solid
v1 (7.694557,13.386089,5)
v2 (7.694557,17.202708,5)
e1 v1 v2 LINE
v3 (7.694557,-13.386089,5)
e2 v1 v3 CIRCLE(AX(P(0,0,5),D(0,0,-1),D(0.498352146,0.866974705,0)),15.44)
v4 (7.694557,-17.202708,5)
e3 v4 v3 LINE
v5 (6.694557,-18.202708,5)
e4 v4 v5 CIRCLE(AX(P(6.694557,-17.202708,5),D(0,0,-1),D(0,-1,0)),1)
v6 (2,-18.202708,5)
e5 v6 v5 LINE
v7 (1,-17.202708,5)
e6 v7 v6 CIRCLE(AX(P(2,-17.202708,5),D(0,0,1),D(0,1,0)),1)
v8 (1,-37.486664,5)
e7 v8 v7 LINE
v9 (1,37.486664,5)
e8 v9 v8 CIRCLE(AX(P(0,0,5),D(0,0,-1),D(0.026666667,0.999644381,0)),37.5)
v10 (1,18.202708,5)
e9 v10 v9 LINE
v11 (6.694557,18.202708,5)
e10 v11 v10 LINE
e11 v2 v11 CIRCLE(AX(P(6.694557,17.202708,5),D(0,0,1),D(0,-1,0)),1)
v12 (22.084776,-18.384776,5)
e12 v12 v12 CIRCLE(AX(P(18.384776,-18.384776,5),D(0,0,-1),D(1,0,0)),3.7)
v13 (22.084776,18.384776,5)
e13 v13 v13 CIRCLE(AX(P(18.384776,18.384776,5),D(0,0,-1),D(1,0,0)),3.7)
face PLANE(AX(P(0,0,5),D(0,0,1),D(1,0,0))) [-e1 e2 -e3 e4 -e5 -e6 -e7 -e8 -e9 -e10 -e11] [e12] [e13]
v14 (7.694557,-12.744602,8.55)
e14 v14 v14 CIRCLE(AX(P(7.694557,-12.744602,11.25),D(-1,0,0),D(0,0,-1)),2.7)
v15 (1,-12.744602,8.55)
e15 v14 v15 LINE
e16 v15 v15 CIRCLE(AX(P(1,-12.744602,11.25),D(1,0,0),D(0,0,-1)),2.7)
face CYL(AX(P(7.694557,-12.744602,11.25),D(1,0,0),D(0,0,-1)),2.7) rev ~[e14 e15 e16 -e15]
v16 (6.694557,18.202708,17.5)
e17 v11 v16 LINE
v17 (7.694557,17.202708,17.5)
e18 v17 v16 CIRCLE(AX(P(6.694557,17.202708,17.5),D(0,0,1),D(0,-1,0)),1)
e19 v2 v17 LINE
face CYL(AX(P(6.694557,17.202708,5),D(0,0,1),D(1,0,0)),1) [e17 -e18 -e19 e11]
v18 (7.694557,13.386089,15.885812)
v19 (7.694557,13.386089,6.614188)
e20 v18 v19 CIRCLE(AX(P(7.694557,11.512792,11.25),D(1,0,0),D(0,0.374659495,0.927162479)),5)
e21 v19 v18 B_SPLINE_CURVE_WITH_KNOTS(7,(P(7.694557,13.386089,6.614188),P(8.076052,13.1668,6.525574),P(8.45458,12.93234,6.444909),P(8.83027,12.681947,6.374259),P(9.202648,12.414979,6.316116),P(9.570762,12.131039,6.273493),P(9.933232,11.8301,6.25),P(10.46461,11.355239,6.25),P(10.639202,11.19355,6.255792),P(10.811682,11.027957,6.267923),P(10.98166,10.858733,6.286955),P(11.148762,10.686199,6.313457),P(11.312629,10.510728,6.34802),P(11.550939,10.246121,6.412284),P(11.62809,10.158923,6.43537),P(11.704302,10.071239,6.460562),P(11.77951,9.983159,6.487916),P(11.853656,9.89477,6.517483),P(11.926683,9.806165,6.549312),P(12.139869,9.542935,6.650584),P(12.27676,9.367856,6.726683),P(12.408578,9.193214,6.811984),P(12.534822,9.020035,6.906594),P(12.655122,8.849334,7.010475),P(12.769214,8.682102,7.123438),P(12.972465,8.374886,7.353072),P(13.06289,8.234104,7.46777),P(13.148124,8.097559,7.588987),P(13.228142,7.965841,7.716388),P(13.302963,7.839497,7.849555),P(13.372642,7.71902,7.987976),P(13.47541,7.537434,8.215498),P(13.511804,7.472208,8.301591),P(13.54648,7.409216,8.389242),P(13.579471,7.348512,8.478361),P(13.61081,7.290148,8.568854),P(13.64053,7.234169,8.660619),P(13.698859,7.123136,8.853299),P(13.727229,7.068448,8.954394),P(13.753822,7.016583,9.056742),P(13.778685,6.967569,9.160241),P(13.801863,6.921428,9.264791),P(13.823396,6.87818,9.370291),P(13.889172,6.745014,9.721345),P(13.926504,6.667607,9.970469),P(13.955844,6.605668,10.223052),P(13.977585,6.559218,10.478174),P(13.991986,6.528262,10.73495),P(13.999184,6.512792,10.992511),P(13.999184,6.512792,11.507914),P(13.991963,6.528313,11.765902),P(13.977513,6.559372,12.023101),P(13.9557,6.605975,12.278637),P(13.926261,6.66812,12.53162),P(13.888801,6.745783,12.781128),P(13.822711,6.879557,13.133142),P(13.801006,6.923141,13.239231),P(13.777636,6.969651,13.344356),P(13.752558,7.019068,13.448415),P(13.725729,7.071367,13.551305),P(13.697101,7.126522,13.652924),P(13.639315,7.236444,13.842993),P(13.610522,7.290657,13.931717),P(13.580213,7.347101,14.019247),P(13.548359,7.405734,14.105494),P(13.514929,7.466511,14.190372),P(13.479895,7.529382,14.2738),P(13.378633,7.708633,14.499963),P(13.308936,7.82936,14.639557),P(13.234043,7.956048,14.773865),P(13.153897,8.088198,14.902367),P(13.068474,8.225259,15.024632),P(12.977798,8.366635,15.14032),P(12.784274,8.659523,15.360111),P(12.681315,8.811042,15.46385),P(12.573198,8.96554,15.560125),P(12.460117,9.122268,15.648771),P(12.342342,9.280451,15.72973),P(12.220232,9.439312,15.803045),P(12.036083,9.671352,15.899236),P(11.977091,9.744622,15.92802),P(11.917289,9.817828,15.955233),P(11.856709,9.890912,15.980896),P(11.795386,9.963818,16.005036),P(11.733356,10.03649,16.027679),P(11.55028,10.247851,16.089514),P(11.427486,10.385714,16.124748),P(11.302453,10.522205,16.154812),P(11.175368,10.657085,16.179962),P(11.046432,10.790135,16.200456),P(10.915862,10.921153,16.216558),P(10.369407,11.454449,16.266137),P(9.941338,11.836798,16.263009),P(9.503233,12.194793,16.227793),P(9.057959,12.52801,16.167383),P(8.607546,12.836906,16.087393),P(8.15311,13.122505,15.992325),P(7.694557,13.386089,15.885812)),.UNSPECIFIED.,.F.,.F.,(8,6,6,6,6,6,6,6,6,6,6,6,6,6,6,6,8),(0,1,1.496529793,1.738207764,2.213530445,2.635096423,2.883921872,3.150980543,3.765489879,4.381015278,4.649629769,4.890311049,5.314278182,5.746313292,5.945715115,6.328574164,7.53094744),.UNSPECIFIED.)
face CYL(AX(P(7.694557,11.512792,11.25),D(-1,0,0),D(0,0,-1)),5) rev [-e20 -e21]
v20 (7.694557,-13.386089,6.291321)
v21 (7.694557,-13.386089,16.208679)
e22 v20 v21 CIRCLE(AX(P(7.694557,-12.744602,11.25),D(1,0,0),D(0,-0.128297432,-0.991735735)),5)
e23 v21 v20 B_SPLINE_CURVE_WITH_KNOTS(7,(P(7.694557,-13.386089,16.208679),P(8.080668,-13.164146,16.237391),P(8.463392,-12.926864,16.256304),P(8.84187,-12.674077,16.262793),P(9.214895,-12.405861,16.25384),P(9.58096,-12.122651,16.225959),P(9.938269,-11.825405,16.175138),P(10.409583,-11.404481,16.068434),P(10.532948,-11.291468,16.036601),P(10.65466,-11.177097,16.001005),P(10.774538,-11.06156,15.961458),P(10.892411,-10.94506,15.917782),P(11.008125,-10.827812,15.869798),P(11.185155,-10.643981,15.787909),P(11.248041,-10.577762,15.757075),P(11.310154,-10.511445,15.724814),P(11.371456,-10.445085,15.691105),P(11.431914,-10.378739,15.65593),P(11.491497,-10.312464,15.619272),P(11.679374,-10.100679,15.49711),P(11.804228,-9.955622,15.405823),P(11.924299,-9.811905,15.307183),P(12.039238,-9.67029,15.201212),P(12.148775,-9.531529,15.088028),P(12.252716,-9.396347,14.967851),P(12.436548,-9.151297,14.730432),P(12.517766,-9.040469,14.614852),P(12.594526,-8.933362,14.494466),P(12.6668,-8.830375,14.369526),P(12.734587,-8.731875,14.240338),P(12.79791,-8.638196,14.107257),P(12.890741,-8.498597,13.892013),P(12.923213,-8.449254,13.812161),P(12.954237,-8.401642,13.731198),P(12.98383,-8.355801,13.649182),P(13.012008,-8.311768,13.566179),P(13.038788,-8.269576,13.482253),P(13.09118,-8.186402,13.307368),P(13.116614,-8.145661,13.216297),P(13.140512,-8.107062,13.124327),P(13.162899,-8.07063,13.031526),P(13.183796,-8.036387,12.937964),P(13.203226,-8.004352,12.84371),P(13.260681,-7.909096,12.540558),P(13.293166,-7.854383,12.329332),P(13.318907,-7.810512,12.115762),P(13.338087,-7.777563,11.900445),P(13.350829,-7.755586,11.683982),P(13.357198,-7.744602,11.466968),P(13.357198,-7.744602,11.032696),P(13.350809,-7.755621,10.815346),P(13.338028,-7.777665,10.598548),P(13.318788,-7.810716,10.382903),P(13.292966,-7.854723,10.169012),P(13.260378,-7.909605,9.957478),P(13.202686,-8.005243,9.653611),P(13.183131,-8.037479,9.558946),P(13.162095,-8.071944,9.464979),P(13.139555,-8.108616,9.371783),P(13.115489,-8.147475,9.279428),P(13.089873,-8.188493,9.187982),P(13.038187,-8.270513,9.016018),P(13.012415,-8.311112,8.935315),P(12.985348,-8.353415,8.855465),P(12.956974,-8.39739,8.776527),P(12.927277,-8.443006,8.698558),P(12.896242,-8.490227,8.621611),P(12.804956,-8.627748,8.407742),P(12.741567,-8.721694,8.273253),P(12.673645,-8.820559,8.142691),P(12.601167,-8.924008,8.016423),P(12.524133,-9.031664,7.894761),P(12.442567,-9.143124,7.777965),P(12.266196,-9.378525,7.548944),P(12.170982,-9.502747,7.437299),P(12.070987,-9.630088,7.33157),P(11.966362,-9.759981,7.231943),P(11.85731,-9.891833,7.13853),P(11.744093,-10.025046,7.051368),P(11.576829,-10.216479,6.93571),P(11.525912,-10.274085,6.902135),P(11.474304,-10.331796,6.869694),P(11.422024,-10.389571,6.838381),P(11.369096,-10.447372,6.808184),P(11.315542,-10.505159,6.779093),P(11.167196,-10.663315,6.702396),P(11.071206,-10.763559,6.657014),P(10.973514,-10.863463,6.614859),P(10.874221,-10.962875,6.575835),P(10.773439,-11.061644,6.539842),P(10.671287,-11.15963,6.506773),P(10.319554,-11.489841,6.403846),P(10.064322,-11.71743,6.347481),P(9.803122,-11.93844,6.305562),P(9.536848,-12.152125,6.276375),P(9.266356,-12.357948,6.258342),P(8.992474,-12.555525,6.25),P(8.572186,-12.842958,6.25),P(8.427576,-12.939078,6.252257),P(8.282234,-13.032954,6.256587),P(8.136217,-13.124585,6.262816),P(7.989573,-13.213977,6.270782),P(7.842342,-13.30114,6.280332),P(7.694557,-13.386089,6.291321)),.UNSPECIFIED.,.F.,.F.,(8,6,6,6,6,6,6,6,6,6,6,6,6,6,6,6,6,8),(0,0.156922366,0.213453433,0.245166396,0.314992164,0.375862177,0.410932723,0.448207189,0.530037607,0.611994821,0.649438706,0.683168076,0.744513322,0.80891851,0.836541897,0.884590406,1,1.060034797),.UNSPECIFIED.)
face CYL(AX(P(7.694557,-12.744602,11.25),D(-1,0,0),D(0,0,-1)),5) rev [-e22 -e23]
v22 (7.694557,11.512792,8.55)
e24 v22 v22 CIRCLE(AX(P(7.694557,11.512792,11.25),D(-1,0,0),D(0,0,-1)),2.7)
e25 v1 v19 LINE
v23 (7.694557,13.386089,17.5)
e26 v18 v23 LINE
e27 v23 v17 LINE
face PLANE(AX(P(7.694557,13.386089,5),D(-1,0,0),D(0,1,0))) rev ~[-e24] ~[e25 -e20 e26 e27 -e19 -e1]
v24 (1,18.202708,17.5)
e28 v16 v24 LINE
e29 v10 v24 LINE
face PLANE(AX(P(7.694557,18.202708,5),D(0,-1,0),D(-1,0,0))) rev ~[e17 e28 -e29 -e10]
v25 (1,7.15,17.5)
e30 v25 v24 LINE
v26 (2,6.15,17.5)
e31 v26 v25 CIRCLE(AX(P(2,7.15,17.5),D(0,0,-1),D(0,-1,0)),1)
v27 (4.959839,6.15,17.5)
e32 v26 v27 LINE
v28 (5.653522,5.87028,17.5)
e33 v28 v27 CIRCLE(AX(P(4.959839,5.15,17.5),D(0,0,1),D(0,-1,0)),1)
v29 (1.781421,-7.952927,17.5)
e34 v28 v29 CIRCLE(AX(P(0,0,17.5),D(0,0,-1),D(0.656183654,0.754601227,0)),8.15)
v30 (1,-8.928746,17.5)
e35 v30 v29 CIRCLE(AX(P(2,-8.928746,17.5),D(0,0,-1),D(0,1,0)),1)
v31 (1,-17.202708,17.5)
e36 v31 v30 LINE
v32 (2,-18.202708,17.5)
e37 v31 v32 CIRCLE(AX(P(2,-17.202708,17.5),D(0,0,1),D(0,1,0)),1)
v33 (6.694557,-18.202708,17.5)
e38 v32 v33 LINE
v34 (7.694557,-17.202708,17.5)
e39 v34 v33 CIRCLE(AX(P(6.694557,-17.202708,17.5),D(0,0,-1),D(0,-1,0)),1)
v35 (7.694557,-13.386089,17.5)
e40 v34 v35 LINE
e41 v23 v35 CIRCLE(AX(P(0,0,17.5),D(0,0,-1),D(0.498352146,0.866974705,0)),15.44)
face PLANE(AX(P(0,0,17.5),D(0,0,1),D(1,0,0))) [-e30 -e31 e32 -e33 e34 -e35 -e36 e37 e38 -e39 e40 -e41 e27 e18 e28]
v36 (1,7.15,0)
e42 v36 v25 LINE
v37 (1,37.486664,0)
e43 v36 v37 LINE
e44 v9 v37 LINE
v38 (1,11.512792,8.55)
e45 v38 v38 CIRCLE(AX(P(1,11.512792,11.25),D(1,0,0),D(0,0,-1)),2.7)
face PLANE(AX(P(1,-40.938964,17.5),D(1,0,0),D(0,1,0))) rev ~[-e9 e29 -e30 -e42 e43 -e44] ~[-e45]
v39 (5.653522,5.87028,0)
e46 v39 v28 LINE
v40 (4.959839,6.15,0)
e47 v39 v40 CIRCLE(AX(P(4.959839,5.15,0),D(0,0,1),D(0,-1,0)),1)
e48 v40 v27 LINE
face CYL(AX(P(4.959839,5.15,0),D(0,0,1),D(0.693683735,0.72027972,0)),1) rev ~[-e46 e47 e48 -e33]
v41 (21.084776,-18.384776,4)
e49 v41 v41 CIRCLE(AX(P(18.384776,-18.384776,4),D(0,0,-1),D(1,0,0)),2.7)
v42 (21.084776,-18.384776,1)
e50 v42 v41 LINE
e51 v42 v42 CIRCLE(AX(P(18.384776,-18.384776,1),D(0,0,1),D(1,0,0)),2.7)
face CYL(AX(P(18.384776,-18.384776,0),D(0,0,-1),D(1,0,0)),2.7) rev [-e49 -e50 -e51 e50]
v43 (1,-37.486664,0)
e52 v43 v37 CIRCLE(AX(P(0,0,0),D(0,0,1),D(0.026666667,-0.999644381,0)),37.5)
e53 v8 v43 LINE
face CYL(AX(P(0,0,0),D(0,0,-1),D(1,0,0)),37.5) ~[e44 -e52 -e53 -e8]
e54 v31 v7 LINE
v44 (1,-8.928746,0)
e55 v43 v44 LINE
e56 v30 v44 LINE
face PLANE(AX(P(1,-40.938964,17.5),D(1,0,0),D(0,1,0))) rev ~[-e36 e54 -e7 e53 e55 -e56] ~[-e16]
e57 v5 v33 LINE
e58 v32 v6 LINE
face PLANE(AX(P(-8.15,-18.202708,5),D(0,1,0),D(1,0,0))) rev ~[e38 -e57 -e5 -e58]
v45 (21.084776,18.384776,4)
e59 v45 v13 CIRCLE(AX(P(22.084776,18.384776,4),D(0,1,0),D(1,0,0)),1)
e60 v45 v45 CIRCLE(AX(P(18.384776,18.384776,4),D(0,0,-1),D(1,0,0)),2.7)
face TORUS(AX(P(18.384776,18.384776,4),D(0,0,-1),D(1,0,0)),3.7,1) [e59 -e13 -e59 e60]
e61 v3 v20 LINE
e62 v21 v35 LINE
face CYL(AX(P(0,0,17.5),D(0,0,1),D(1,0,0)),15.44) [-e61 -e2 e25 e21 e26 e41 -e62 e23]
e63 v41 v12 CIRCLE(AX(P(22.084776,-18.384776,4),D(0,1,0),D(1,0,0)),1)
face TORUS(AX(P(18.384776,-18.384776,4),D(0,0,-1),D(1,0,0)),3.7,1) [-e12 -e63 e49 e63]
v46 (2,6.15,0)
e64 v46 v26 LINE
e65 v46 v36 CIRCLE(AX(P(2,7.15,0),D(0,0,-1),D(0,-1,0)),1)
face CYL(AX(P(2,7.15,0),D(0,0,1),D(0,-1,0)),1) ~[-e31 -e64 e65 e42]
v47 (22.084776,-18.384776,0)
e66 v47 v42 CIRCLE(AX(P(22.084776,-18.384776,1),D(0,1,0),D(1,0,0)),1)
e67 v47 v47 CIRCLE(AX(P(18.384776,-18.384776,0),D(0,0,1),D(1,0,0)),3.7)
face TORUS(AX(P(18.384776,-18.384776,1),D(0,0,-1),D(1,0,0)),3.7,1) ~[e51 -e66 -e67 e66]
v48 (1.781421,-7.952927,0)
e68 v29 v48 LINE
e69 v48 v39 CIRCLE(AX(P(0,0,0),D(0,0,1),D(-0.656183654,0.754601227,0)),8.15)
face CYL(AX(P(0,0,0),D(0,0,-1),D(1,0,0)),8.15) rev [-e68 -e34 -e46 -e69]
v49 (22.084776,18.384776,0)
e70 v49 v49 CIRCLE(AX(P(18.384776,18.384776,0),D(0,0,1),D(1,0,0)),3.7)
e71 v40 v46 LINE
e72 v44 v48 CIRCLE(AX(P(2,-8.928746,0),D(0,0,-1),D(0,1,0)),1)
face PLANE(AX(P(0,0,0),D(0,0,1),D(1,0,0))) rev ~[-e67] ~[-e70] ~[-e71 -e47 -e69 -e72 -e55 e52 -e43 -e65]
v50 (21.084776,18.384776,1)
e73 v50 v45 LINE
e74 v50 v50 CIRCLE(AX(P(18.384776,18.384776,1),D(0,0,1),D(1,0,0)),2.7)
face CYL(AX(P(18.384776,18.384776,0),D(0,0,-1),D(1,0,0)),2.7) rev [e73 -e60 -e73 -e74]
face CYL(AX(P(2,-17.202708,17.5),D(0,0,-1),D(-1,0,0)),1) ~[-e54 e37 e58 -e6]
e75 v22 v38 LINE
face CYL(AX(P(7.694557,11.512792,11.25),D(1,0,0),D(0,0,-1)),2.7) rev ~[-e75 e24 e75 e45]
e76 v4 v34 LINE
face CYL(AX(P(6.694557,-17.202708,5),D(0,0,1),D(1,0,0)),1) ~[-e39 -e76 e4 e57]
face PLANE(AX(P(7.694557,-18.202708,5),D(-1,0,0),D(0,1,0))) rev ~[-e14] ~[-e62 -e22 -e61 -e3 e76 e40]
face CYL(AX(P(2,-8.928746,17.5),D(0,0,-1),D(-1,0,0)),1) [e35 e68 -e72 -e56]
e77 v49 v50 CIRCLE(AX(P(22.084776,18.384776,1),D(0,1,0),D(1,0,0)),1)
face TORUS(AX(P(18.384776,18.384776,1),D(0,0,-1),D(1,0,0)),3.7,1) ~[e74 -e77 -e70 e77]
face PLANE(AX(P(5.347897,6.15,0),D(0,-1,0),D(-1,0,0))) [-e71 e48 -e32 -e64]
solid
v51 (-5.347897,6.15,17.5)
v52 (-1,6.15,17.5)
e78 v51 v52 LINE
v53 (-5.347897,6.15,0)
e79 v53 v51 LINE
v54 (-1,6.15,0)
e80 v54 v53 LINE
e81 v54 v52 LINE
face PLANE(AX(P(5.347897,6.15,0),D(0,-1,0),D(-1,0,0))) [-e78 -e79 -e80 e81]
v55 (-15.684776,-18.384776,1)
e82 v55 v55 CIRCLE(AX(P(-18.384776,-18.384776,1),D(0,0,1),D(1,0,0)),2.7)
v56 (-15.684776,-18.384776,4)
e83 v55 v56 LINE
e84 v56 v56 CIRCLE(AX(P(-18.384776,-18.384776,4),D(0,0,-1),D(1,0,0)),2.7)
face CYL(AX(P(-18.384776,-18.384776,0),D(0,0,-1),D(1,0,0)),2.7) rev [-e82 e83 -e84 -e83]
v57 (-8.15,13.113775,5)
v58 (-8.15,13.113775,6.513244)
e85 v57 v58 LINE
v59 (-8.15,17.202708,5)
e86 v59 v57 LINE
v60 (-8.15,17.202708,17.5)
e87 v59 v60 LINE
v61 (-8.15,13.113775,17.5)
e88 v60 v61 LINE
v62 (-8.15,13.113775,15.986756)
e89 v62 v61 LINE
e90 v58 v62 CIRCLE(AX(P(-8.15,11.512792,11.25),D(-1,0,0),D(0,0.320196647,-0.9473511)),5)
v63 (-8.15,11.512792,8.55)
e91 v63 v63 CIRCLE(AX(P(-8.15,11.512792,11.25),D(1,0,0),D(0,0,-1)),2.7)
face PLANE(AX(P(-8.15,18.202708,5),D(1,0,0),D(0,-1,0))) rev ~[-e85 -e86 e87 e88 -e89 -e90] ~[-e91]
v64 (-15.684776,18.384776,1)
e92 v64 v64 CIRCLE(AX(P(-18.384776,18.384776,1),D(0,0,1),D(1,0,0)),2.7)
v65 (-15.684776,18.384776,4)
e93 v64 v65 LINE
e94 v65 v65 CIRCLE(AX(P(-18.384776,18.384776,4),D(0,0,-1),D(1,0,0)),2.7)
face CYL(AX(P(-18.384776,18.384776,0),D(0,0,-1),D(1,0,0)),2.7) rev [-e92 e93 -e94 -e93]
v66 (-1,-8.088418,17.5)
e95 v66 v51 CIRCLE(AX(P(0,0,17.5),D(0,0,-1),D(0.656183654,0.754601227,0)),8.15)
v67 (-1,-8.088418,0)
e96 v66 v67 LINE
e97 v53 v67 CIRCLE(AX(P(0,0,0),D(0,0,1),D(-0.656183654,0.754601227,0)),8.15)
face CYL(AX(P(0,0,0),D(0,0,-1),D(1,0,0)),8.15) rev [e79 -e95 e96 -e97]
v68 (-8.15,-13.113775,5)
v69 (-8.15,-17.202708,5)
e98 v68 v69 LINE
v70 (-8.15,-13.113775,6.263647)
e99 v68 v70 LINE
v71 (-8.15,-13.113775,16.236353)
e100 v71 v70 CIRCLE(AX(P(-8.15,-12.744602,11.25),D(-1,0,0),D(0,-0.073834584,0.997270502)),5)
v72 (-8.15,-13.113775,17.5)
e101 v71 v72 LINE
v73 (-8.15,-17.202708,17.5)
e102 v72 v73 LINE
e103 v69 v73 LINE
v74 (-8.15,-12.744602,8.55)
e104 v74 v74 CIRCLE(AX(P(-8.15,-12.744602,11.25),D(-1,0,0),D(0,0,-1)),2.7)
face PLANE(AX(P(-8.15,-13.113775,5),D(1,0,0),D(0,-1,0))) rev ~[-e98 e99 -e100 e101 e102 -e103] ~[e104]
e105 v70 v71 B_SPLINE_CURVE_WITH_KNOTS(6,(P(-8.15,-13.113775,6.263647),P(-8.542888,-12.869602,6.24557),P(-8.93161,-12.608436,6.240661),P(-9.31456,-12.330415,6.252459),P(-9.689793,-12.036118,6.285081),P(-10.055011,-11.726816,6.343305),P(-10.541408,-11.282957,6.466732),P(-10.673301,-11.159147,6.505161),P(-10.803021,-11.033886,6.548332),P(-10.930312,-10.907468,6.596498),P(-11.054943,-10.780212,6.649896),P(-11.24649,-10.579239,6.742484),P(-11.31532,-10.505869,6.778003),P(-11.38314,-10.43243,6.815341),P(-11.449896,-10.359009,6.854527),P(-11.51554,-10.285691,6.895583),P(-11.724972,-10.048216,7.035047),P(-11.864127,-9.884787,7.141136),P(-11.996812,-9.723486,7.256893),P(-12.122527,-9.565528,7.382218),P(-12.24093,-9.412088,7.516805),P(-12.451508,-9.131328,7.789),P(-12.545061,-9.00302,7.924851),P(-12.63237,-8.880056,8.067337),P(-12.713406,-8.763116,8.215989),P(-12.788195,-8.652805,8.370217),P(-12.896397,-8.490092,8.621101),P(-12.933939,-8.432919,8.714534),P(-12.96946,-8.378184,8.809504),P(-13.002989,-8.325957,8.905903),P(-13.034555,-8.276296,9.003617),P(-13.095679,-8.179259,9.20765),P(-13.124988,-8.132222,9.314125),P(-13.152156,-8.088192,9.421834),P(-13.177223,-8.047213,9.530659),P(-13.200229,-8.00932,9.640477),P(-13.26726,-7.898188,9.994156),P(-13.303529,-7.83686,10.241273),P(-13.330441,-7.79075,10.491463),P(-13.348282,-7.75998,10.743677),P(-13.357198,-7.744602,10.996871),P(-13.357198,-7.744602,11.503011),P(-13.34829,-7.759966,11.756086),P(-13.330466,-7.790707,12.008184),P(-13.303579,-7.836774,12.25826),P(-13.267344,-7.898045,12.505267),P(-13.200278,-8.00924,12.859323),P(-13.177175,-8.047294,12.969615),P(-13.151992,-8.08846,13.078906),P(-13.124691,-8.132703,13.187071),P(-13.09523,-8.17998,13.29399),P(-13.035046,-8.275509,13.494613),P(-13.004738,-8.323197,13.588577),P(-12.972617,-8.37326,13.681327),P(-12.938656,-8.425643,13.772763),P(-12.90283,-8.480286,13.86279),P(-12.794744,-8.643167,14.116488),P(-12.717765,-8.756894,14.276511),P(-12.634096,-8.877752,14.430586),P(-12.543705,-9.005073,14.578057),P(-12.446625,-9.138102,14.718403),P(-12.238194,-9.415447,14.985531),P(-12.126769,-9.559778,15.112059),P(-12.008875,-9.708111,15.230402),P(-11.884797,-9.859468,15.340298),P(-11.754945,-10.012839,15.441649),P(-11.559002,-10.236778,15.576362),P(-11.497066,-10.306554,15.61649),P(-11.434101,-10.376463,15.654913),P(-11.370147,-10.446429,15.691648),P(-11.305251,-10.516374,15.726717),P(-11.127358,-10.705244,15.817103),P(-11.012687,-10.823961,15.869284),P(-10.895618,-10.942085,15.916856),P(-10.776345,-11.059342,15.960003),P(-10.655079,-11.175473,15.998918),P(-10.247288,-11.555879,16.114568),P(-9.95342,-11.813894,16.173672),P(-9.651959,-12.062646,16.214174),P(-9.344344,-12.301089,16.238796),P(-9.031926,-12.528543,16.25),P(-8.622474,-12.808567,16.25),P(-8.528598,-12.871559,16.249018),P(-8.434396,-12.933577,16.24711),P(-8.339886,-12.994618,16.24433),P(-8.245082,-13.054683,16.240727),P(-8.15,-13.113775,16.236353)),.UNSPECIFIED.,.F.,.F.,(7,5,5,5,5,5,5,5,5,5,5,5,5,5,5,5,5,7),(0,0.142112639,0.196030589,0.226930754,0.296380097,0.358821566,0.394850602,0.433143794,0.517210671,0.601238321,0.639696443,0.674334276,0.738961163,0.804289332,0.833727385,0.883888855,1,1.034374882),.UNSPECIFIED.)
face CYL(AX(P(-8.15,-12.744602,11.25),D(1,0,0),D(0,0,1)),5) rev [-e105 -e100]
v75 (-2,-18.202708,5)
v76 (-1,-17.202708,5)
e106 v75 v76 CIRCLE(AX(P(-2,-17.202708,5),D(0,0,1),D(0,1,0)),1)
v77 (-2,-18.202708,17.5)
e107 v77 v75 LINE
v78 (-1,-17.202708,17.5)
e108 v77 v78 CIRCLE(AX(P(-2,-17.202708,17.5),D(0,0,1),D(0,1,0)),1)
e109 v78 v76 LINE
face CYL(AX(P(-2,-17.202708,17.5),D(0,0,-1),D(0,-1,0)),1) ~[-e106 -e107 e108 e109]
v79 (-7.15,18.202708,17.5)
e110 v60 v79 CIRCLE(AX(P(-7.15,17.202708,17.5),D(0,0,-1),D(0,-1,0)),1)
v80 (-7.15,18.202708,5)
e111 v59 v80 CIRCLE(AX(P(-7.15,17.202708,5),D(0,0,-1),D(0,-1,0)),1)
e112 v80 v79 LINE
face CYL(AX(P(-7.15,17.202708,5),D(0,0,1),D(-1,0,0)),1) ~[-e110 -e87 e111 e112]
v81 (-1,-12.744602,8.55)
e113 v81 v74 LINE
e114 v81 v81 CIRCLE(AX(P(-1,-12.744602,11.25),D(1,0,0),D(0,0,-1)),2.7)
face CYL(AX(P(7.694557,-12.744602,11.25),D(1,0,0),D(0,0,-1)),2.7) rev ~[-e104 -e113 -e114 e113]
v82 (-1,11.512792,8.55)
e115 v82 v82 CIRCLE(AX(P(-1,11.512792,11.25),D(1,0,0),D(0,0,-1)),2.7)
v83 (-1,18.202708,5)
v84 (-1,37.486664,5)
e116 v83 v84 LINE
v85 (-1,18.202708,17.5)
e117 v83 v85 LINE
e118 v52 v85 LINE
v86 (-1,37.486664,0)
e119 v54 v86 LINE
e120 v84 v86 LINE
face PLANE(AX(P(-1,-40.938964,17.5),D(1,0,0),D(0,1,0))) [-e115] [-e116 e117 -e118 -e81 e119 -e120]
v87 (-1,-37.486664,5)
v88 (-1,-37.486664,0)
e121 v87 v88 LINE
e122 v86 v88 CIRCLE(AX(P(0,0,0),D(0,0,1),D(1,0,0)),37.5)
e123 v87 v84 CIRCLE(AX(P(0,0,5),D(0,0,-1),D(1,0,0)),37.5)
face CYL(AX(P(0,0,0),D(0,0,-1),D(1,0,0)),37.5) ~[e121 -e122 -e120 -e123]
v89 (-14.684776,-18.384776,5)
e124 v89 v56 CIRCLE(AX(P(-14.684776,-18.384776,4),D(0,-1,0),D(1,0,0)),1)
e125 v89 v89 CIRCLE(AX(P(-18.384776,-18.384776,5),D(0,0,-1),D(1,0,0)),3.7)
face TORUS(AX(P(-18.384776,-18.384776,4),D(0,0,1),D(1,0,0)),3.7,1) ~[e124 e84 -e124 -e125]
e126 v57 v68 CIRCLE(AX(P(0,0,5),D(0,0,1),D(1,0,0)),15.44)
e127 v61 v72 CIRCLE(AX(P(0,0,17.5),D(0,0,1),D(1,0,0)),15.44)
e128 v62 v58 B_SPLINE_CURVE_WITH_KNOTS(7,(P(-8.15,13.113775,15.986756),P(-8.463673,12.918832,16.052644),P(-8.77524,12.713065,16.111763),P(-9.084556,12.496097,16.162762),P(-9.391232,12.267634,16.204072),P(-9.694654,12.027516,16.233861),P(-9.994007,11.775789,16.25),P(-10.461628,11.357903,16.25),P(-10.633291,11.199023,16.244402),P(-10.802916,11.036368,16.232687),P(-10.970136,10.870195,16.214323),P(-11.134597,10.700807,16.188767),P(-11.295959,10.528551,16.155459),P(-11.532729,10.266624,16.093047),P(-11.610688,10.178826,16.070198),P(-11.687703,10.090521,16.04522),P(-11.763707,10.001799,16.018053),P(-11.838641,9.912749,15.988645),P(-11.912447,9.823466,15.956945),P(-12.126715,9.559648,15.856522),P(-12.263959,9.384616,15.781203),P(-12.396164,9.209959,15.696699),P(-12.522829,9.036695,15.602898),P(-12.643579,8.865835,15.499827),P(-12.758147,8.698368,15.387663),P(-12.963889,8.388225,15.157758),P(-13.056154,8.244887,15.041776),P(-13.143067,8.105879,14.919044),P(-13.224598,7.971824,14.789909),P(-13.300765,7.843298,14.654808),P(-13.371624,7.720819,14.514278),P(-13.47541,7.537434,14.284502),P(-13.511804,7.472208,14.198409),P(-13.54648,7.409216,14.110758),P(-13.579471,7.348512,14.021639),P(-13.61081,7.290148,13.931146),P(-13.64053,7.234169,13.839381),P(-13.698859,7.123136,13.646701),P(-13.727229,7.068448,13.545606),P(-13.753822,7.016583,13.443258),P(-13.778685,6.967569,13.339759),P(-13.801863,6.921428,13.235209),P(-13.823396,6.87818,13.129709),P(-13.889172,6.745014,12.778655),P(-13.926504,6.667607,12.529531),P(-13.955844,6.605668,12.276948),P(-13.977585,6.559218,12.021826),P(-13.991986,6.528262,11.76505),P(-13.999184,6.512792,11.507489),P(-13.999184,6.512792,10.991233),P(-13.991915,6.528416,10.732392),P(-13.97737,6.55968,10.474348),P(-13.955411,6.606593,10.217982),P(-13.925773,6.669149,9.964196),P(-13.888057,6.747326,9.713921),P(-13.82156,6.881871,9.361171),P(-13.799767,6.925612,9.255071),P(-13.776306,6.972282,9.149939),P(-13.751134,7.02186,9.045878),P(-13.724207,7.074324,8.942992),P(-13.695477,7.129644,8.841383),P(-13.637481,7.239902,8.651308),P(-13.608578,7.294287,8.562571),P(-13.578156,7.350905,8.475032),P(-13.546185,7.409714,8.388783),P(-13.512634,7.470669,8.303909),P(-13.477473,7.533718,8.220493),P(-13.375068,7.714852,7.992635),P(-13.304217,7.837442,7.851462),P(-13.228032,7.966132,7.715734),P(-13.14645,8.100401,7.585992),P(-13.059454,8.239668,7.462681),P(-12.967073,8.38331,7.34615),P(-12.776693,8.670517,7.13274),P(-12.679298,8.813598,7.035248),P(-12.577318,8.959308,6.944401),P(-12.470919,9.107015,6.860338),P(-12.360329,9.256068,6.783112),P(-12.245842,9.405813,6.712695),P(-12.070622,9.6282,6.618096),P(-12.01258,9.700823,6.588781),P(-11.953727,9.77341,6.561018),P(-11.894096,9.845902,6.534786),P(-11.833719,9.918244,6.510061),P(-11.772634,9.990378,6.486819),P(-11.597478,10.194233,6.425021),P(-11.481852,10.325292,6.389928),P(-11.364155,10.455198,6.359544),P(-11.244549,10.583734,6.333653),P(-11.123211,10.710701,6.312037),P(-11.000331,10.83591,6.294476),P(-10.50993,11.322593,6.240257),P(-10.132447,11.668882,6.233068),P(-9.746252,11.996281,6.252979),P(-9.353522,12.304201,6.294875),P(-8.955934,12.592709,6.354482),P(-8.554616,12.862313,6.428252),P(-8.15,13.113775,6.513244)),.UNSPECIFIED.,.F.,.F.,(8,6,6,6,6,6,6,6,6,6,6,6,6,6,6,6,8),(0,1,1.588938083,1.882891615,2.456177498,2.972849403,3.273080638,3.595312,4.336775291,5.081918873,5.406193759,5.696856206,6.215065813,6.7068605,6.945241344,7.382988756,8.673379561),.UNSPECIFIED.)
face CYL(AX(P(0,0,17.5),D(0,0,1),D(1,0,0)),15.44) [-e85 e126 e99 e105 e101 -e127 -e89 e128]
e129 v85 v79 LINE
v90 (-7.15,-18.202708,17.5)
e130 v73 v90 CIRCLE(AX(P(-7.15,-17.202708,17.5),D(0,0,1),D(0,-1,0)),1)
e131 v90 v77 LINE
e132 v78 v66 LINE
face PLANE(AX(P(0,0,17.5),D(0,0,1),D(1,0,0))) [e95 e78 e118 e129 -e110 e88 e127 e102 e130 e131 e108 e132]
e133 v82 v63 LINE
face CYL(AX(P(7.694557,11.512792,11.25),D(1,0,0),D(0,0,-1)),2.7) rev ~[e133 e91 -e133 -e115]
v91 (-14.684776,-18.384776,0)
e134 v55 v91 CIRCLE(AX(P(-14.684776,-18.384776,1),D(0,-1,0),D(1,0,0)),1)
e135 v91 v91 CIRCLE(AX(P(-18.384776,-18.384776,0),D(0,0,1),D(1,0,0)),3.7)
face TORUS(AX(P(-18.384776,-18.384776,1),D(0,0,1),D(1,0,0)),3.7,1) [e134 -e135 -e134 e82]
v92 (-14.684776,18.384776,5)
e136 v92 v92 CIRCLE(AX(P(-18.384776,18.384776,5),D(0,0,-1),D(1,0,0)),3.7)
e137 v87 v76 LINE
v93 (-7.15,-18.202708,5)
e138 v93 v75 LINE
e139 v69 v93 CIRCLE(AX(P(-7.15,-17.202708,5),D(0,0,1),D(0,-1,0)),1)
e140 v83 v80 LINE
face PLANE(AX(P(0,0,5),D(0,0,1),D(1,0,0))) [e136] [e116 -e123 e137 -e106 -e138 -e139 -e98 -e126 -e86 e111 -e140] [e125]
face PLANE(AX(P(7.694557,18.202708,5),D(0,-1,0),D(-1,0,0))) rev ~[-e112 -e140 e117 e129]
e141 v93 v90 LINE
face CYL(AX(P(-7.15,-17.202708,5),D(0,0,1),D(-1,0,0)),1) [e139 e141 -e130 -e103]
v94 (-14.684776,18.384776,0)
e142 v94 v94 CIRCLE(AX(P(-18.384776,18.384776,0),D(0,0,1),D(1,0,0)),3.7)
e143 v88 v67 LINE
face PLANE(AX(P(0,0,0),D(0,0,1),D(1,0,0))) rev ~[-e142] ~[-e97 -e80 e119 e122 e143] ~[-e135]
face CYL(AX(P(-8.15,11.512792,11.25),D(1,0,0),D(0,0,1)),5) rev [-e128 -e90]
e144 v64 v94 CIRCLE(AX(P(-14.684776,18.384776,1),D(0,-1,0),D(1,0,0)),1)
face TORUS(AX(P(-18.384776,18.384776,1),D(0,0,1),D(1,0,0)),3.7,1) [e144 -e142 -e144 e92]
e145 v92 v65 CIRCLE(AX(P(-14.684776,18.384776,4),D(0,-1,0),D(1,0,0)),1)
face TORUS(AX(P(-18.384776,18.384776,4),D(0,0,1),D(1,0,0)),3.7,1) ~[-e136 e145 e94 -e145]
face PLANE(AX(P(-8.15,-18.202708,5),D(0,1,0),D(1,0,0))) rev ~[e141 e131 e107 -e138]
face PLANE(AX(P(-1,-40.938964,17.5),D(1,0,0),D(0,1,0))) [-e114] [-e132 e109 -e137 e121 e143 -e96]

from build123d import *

# Parameters (mm, degrees)
SKETCH1_R                = 37.5
SKETCH1_R_2              = 8.15
SKETCH1_R_3              = 2.7
BOSS_EXTRUDE1_DEPTH      = 17.5
SKETCH2_OUTSIDE_W        = 98.5
SKETCH2_OUTSIDE_H        = 98.5
SKETCH2_OUTSIDE_R        = 15.44
CUT_EXTRUDE1_DEPTH       = 12.5
BOSS_EXTRUDE6_DEPTH      = 12.5
BOSS_EXTRUDE7_DEPTH      = 17.5
SKETCH15_W               = 2
SKETCH15_H               = 81.877927722
CUT_EXTRUDE9_DEPTH       = 1
CUT_EXTRUDE9_DEPTH_BACK  = 18.5
SKETCH16_R               = 2.7
CUT_EXTRUDE10_DEPTH      = 30.805442867
CUT_EXTRUDE10_DEPTH_BACK = 46.194557133
SKETCH17_R               = 5
CUT_EXTRUDE11_DEPTH      = 30.35
SKETCH19_R               = 5
CUT_EXTRUDE12_DEPTH      = 30.805442867
FILLET1_R                = 1
FILLET2_R                = 1


with BuildPart() as part:
    # Sketch1 → Boss-Extrude1 (new body)
    with BuildSketch(Plane.XY):
        Circle(SKETCH1_R)
        Circle(SKETCH1_R_2, mode=Mode.SUBTRACT)
        with Locations((18.384776311, 18.384776311)):
            Circle(SKETCH1_R_3, mode=Mode.SUBTRACT)
        with Locations((-18.384776311, 18.384776311)):
            Circle(SKETCH1_R_3, mode=Mode.SUBTRACT)
        with Locations((-18.384776311, -18.384776311)):
            Circle(SKETCH1_R_3, mode=Mode.SUBTRACT)
        with Locations((18.384776311, -18.384776311)):
            Circle(SKETCH1_R_3, mode=Mode.SUBTRACT)
    extrude(amount=BOSS_EXTRUDE1_DEPTH)

    # Sketch2 outside → Cut-Extrude1 (cut)
    with BuildSketch(Plane.XY.offset(17.5)):
        Rectangle(SKETCH2_OUTSIDE_W, SKETCH2_OUTSIDE_H)
        Circle(SKETCH2_OUTSIDE_R, mode=Mode.SUBTRACT)
    extrude(amount=-CUT_EXTRUDE1_DEPTH, mode=Mode.SUBTRACT)

    # Sketch5 → Boss-Extrude6 (add)
    with BuildSketch(Plane.XY.offset(5)):
        with BuildLine():
            Line((7.694557133, 13.386089441), (7.694557133, 18.20270779))
            Line((7.694557133, 18.20270779), (-8.15, 18.20270779))
            Line((-8.15, 18.20270779), (-8.15, 13.1137752))
            ThreePointArc((-8.15, 13.1137752), (-0.265322093, 15.437720175), (7.694557133, 13.386089441))
        make_face()
        with BuildLine():
            Line((7.694557133, -18.20270779), (7.694557133, -13.386089441))
            ThreePointArc((7.694557133, -13.386089441), (-0.265322093, -15.437720175), (-8.15, -13.1137752))
            Line((-8.15, -13.1137752), (-8.15, -18.20270779))
            Line((-8.15, -18.20270779), (7.694557133, -18.20270779))
        make_face()
    extrude(amount=BOSS_EXTRUDE6_DEPTH)

    # Sketch14 → Boss-Extrude7 (add)
    with BuildSketch(Plane(origin=(0, 0, 0), x_dir=(-1, 0, 0), z_dir=(0, 0, -1))):
        with BuildLine():
            Line((-5.347896783, 6.15), (0, 6.15))
            Line((0, 6.15), (5.347896783, 6.15))
            ThreePointArc((5.347896783, 6.15), (0, 8.15), (-5.347896783, 6.15))
        make_face()
    extrude(amount=-BOSS_EXTRUDE7_DEPTH)

    # Sketch15 → Cut-Extrude9 (cut, two sides)
    with BuildSketch(Plane.XY.offset(17.5)) as cut_extrude9_sk:
        Rectangle(SKETCH15_W, SKETCH15_H)
    extrude(amount=CUT_EXTRUDE9_DEPTH, mode=Mode.SUBTRACT)
    extrude(cut_extrude9_sk.sketch, amount=-CUT_EXTRUDE9_DEPTH_BACK, mode=Mode.SUBTRACT)

    # Sketch16 → Cut-Extrude10 (cut, two sides)
    with BuildSketch(Plane(origin=(7.694557133, 0, 0), x_dir=(0, 0, -1), z_dir=(1, 0, 0))) as cut_extrude10_sk:
        with Locations((-11.25, 11.512791967)):
            Circle(SKETCH16_R)
        with Locations((-11.25, -12.744602279)):
            Circle(SKETCH16_R)
    extrude(amount=CUT_EXTRUDE10_DEPTH, mode=Mode.SUBTRACT)
    extrude(cut_extrude10_sk.sketch, amount=-CUT_EXTRUDE10_DEPTH_BACK, mode=Mode.SUBTRACT)

    # Sketch17 → Cut-Extrude11 (cut, through all)
    with BuildSketch(Plane.ZY.offset(8.15)):
        with Locations((11.25, 11.512791967)):
            Circle(SKETCH17_R)
        with Locations((11.25, -12.744602279)):
            Circle(SKETCH17_R)
    extrude(amount=CUT_EXTRUDE11_DEPTH, mode=Mode.SUBTRACT)

    # Sketch19 → Cut-Extrude12 (cut, through all)
    with BuildSketch(Plane(origin=(7.694557133, 0, 0), x_dir=(0, 0, -1), z_dir=(1, 0, 0))):
        with Locations((-11.25, 11.512791967)):
            Circle(SKETCH19_R)
        with Locations((-11.25, -12.744602279)):
            Circle(SKETCH19_R)
    extrude(amount=CUT_EXTRUDE12_DEPTH, mode=Mode.SUBTRACT)

    # Fillet1
    fillet1_edges = [part.edges().sort_by_distance(p)[0] for p in [
        (1, -18.20270779, 11.25),
        (1, -8.088417645, 8.75),
        (15.684776311, -18.384776311, 0),
        (15.684776311, -18.384776311, 5),
        (15.684776311, 18.384776311, 5),
        (7.694557133, 18.20270779, 11.25),
        (7.694557133, -18.20270779, 11.25),
        (5.347896783, 6.15, 8.75),
        (15.684776311, 18.384776311, 0),
        (1, 6.15, 8.75),
    ]]
    fillet(fillet1_edges, radius=FILLET1_R)

    # Fillet2
    fillet2_edges = [part.edges().sort_by_distance(p)[0] for p in [
        (-21.084776311, -18.384776311, 0),
        (-21.084776311, 18.384776311, 0),
        (-1, -18.20270779, 11.25),
        (-8.15, -18.20270779, 11.25),
        (-21.084776311, 18.384776311, 5),
        (-21.084776311, -18.384776311, 5),
        (-8.15, 18.20270779, 11.25),
    ]]
    fillet(fillet2_edges, radius=FILLET2_R)


solid = part.part
